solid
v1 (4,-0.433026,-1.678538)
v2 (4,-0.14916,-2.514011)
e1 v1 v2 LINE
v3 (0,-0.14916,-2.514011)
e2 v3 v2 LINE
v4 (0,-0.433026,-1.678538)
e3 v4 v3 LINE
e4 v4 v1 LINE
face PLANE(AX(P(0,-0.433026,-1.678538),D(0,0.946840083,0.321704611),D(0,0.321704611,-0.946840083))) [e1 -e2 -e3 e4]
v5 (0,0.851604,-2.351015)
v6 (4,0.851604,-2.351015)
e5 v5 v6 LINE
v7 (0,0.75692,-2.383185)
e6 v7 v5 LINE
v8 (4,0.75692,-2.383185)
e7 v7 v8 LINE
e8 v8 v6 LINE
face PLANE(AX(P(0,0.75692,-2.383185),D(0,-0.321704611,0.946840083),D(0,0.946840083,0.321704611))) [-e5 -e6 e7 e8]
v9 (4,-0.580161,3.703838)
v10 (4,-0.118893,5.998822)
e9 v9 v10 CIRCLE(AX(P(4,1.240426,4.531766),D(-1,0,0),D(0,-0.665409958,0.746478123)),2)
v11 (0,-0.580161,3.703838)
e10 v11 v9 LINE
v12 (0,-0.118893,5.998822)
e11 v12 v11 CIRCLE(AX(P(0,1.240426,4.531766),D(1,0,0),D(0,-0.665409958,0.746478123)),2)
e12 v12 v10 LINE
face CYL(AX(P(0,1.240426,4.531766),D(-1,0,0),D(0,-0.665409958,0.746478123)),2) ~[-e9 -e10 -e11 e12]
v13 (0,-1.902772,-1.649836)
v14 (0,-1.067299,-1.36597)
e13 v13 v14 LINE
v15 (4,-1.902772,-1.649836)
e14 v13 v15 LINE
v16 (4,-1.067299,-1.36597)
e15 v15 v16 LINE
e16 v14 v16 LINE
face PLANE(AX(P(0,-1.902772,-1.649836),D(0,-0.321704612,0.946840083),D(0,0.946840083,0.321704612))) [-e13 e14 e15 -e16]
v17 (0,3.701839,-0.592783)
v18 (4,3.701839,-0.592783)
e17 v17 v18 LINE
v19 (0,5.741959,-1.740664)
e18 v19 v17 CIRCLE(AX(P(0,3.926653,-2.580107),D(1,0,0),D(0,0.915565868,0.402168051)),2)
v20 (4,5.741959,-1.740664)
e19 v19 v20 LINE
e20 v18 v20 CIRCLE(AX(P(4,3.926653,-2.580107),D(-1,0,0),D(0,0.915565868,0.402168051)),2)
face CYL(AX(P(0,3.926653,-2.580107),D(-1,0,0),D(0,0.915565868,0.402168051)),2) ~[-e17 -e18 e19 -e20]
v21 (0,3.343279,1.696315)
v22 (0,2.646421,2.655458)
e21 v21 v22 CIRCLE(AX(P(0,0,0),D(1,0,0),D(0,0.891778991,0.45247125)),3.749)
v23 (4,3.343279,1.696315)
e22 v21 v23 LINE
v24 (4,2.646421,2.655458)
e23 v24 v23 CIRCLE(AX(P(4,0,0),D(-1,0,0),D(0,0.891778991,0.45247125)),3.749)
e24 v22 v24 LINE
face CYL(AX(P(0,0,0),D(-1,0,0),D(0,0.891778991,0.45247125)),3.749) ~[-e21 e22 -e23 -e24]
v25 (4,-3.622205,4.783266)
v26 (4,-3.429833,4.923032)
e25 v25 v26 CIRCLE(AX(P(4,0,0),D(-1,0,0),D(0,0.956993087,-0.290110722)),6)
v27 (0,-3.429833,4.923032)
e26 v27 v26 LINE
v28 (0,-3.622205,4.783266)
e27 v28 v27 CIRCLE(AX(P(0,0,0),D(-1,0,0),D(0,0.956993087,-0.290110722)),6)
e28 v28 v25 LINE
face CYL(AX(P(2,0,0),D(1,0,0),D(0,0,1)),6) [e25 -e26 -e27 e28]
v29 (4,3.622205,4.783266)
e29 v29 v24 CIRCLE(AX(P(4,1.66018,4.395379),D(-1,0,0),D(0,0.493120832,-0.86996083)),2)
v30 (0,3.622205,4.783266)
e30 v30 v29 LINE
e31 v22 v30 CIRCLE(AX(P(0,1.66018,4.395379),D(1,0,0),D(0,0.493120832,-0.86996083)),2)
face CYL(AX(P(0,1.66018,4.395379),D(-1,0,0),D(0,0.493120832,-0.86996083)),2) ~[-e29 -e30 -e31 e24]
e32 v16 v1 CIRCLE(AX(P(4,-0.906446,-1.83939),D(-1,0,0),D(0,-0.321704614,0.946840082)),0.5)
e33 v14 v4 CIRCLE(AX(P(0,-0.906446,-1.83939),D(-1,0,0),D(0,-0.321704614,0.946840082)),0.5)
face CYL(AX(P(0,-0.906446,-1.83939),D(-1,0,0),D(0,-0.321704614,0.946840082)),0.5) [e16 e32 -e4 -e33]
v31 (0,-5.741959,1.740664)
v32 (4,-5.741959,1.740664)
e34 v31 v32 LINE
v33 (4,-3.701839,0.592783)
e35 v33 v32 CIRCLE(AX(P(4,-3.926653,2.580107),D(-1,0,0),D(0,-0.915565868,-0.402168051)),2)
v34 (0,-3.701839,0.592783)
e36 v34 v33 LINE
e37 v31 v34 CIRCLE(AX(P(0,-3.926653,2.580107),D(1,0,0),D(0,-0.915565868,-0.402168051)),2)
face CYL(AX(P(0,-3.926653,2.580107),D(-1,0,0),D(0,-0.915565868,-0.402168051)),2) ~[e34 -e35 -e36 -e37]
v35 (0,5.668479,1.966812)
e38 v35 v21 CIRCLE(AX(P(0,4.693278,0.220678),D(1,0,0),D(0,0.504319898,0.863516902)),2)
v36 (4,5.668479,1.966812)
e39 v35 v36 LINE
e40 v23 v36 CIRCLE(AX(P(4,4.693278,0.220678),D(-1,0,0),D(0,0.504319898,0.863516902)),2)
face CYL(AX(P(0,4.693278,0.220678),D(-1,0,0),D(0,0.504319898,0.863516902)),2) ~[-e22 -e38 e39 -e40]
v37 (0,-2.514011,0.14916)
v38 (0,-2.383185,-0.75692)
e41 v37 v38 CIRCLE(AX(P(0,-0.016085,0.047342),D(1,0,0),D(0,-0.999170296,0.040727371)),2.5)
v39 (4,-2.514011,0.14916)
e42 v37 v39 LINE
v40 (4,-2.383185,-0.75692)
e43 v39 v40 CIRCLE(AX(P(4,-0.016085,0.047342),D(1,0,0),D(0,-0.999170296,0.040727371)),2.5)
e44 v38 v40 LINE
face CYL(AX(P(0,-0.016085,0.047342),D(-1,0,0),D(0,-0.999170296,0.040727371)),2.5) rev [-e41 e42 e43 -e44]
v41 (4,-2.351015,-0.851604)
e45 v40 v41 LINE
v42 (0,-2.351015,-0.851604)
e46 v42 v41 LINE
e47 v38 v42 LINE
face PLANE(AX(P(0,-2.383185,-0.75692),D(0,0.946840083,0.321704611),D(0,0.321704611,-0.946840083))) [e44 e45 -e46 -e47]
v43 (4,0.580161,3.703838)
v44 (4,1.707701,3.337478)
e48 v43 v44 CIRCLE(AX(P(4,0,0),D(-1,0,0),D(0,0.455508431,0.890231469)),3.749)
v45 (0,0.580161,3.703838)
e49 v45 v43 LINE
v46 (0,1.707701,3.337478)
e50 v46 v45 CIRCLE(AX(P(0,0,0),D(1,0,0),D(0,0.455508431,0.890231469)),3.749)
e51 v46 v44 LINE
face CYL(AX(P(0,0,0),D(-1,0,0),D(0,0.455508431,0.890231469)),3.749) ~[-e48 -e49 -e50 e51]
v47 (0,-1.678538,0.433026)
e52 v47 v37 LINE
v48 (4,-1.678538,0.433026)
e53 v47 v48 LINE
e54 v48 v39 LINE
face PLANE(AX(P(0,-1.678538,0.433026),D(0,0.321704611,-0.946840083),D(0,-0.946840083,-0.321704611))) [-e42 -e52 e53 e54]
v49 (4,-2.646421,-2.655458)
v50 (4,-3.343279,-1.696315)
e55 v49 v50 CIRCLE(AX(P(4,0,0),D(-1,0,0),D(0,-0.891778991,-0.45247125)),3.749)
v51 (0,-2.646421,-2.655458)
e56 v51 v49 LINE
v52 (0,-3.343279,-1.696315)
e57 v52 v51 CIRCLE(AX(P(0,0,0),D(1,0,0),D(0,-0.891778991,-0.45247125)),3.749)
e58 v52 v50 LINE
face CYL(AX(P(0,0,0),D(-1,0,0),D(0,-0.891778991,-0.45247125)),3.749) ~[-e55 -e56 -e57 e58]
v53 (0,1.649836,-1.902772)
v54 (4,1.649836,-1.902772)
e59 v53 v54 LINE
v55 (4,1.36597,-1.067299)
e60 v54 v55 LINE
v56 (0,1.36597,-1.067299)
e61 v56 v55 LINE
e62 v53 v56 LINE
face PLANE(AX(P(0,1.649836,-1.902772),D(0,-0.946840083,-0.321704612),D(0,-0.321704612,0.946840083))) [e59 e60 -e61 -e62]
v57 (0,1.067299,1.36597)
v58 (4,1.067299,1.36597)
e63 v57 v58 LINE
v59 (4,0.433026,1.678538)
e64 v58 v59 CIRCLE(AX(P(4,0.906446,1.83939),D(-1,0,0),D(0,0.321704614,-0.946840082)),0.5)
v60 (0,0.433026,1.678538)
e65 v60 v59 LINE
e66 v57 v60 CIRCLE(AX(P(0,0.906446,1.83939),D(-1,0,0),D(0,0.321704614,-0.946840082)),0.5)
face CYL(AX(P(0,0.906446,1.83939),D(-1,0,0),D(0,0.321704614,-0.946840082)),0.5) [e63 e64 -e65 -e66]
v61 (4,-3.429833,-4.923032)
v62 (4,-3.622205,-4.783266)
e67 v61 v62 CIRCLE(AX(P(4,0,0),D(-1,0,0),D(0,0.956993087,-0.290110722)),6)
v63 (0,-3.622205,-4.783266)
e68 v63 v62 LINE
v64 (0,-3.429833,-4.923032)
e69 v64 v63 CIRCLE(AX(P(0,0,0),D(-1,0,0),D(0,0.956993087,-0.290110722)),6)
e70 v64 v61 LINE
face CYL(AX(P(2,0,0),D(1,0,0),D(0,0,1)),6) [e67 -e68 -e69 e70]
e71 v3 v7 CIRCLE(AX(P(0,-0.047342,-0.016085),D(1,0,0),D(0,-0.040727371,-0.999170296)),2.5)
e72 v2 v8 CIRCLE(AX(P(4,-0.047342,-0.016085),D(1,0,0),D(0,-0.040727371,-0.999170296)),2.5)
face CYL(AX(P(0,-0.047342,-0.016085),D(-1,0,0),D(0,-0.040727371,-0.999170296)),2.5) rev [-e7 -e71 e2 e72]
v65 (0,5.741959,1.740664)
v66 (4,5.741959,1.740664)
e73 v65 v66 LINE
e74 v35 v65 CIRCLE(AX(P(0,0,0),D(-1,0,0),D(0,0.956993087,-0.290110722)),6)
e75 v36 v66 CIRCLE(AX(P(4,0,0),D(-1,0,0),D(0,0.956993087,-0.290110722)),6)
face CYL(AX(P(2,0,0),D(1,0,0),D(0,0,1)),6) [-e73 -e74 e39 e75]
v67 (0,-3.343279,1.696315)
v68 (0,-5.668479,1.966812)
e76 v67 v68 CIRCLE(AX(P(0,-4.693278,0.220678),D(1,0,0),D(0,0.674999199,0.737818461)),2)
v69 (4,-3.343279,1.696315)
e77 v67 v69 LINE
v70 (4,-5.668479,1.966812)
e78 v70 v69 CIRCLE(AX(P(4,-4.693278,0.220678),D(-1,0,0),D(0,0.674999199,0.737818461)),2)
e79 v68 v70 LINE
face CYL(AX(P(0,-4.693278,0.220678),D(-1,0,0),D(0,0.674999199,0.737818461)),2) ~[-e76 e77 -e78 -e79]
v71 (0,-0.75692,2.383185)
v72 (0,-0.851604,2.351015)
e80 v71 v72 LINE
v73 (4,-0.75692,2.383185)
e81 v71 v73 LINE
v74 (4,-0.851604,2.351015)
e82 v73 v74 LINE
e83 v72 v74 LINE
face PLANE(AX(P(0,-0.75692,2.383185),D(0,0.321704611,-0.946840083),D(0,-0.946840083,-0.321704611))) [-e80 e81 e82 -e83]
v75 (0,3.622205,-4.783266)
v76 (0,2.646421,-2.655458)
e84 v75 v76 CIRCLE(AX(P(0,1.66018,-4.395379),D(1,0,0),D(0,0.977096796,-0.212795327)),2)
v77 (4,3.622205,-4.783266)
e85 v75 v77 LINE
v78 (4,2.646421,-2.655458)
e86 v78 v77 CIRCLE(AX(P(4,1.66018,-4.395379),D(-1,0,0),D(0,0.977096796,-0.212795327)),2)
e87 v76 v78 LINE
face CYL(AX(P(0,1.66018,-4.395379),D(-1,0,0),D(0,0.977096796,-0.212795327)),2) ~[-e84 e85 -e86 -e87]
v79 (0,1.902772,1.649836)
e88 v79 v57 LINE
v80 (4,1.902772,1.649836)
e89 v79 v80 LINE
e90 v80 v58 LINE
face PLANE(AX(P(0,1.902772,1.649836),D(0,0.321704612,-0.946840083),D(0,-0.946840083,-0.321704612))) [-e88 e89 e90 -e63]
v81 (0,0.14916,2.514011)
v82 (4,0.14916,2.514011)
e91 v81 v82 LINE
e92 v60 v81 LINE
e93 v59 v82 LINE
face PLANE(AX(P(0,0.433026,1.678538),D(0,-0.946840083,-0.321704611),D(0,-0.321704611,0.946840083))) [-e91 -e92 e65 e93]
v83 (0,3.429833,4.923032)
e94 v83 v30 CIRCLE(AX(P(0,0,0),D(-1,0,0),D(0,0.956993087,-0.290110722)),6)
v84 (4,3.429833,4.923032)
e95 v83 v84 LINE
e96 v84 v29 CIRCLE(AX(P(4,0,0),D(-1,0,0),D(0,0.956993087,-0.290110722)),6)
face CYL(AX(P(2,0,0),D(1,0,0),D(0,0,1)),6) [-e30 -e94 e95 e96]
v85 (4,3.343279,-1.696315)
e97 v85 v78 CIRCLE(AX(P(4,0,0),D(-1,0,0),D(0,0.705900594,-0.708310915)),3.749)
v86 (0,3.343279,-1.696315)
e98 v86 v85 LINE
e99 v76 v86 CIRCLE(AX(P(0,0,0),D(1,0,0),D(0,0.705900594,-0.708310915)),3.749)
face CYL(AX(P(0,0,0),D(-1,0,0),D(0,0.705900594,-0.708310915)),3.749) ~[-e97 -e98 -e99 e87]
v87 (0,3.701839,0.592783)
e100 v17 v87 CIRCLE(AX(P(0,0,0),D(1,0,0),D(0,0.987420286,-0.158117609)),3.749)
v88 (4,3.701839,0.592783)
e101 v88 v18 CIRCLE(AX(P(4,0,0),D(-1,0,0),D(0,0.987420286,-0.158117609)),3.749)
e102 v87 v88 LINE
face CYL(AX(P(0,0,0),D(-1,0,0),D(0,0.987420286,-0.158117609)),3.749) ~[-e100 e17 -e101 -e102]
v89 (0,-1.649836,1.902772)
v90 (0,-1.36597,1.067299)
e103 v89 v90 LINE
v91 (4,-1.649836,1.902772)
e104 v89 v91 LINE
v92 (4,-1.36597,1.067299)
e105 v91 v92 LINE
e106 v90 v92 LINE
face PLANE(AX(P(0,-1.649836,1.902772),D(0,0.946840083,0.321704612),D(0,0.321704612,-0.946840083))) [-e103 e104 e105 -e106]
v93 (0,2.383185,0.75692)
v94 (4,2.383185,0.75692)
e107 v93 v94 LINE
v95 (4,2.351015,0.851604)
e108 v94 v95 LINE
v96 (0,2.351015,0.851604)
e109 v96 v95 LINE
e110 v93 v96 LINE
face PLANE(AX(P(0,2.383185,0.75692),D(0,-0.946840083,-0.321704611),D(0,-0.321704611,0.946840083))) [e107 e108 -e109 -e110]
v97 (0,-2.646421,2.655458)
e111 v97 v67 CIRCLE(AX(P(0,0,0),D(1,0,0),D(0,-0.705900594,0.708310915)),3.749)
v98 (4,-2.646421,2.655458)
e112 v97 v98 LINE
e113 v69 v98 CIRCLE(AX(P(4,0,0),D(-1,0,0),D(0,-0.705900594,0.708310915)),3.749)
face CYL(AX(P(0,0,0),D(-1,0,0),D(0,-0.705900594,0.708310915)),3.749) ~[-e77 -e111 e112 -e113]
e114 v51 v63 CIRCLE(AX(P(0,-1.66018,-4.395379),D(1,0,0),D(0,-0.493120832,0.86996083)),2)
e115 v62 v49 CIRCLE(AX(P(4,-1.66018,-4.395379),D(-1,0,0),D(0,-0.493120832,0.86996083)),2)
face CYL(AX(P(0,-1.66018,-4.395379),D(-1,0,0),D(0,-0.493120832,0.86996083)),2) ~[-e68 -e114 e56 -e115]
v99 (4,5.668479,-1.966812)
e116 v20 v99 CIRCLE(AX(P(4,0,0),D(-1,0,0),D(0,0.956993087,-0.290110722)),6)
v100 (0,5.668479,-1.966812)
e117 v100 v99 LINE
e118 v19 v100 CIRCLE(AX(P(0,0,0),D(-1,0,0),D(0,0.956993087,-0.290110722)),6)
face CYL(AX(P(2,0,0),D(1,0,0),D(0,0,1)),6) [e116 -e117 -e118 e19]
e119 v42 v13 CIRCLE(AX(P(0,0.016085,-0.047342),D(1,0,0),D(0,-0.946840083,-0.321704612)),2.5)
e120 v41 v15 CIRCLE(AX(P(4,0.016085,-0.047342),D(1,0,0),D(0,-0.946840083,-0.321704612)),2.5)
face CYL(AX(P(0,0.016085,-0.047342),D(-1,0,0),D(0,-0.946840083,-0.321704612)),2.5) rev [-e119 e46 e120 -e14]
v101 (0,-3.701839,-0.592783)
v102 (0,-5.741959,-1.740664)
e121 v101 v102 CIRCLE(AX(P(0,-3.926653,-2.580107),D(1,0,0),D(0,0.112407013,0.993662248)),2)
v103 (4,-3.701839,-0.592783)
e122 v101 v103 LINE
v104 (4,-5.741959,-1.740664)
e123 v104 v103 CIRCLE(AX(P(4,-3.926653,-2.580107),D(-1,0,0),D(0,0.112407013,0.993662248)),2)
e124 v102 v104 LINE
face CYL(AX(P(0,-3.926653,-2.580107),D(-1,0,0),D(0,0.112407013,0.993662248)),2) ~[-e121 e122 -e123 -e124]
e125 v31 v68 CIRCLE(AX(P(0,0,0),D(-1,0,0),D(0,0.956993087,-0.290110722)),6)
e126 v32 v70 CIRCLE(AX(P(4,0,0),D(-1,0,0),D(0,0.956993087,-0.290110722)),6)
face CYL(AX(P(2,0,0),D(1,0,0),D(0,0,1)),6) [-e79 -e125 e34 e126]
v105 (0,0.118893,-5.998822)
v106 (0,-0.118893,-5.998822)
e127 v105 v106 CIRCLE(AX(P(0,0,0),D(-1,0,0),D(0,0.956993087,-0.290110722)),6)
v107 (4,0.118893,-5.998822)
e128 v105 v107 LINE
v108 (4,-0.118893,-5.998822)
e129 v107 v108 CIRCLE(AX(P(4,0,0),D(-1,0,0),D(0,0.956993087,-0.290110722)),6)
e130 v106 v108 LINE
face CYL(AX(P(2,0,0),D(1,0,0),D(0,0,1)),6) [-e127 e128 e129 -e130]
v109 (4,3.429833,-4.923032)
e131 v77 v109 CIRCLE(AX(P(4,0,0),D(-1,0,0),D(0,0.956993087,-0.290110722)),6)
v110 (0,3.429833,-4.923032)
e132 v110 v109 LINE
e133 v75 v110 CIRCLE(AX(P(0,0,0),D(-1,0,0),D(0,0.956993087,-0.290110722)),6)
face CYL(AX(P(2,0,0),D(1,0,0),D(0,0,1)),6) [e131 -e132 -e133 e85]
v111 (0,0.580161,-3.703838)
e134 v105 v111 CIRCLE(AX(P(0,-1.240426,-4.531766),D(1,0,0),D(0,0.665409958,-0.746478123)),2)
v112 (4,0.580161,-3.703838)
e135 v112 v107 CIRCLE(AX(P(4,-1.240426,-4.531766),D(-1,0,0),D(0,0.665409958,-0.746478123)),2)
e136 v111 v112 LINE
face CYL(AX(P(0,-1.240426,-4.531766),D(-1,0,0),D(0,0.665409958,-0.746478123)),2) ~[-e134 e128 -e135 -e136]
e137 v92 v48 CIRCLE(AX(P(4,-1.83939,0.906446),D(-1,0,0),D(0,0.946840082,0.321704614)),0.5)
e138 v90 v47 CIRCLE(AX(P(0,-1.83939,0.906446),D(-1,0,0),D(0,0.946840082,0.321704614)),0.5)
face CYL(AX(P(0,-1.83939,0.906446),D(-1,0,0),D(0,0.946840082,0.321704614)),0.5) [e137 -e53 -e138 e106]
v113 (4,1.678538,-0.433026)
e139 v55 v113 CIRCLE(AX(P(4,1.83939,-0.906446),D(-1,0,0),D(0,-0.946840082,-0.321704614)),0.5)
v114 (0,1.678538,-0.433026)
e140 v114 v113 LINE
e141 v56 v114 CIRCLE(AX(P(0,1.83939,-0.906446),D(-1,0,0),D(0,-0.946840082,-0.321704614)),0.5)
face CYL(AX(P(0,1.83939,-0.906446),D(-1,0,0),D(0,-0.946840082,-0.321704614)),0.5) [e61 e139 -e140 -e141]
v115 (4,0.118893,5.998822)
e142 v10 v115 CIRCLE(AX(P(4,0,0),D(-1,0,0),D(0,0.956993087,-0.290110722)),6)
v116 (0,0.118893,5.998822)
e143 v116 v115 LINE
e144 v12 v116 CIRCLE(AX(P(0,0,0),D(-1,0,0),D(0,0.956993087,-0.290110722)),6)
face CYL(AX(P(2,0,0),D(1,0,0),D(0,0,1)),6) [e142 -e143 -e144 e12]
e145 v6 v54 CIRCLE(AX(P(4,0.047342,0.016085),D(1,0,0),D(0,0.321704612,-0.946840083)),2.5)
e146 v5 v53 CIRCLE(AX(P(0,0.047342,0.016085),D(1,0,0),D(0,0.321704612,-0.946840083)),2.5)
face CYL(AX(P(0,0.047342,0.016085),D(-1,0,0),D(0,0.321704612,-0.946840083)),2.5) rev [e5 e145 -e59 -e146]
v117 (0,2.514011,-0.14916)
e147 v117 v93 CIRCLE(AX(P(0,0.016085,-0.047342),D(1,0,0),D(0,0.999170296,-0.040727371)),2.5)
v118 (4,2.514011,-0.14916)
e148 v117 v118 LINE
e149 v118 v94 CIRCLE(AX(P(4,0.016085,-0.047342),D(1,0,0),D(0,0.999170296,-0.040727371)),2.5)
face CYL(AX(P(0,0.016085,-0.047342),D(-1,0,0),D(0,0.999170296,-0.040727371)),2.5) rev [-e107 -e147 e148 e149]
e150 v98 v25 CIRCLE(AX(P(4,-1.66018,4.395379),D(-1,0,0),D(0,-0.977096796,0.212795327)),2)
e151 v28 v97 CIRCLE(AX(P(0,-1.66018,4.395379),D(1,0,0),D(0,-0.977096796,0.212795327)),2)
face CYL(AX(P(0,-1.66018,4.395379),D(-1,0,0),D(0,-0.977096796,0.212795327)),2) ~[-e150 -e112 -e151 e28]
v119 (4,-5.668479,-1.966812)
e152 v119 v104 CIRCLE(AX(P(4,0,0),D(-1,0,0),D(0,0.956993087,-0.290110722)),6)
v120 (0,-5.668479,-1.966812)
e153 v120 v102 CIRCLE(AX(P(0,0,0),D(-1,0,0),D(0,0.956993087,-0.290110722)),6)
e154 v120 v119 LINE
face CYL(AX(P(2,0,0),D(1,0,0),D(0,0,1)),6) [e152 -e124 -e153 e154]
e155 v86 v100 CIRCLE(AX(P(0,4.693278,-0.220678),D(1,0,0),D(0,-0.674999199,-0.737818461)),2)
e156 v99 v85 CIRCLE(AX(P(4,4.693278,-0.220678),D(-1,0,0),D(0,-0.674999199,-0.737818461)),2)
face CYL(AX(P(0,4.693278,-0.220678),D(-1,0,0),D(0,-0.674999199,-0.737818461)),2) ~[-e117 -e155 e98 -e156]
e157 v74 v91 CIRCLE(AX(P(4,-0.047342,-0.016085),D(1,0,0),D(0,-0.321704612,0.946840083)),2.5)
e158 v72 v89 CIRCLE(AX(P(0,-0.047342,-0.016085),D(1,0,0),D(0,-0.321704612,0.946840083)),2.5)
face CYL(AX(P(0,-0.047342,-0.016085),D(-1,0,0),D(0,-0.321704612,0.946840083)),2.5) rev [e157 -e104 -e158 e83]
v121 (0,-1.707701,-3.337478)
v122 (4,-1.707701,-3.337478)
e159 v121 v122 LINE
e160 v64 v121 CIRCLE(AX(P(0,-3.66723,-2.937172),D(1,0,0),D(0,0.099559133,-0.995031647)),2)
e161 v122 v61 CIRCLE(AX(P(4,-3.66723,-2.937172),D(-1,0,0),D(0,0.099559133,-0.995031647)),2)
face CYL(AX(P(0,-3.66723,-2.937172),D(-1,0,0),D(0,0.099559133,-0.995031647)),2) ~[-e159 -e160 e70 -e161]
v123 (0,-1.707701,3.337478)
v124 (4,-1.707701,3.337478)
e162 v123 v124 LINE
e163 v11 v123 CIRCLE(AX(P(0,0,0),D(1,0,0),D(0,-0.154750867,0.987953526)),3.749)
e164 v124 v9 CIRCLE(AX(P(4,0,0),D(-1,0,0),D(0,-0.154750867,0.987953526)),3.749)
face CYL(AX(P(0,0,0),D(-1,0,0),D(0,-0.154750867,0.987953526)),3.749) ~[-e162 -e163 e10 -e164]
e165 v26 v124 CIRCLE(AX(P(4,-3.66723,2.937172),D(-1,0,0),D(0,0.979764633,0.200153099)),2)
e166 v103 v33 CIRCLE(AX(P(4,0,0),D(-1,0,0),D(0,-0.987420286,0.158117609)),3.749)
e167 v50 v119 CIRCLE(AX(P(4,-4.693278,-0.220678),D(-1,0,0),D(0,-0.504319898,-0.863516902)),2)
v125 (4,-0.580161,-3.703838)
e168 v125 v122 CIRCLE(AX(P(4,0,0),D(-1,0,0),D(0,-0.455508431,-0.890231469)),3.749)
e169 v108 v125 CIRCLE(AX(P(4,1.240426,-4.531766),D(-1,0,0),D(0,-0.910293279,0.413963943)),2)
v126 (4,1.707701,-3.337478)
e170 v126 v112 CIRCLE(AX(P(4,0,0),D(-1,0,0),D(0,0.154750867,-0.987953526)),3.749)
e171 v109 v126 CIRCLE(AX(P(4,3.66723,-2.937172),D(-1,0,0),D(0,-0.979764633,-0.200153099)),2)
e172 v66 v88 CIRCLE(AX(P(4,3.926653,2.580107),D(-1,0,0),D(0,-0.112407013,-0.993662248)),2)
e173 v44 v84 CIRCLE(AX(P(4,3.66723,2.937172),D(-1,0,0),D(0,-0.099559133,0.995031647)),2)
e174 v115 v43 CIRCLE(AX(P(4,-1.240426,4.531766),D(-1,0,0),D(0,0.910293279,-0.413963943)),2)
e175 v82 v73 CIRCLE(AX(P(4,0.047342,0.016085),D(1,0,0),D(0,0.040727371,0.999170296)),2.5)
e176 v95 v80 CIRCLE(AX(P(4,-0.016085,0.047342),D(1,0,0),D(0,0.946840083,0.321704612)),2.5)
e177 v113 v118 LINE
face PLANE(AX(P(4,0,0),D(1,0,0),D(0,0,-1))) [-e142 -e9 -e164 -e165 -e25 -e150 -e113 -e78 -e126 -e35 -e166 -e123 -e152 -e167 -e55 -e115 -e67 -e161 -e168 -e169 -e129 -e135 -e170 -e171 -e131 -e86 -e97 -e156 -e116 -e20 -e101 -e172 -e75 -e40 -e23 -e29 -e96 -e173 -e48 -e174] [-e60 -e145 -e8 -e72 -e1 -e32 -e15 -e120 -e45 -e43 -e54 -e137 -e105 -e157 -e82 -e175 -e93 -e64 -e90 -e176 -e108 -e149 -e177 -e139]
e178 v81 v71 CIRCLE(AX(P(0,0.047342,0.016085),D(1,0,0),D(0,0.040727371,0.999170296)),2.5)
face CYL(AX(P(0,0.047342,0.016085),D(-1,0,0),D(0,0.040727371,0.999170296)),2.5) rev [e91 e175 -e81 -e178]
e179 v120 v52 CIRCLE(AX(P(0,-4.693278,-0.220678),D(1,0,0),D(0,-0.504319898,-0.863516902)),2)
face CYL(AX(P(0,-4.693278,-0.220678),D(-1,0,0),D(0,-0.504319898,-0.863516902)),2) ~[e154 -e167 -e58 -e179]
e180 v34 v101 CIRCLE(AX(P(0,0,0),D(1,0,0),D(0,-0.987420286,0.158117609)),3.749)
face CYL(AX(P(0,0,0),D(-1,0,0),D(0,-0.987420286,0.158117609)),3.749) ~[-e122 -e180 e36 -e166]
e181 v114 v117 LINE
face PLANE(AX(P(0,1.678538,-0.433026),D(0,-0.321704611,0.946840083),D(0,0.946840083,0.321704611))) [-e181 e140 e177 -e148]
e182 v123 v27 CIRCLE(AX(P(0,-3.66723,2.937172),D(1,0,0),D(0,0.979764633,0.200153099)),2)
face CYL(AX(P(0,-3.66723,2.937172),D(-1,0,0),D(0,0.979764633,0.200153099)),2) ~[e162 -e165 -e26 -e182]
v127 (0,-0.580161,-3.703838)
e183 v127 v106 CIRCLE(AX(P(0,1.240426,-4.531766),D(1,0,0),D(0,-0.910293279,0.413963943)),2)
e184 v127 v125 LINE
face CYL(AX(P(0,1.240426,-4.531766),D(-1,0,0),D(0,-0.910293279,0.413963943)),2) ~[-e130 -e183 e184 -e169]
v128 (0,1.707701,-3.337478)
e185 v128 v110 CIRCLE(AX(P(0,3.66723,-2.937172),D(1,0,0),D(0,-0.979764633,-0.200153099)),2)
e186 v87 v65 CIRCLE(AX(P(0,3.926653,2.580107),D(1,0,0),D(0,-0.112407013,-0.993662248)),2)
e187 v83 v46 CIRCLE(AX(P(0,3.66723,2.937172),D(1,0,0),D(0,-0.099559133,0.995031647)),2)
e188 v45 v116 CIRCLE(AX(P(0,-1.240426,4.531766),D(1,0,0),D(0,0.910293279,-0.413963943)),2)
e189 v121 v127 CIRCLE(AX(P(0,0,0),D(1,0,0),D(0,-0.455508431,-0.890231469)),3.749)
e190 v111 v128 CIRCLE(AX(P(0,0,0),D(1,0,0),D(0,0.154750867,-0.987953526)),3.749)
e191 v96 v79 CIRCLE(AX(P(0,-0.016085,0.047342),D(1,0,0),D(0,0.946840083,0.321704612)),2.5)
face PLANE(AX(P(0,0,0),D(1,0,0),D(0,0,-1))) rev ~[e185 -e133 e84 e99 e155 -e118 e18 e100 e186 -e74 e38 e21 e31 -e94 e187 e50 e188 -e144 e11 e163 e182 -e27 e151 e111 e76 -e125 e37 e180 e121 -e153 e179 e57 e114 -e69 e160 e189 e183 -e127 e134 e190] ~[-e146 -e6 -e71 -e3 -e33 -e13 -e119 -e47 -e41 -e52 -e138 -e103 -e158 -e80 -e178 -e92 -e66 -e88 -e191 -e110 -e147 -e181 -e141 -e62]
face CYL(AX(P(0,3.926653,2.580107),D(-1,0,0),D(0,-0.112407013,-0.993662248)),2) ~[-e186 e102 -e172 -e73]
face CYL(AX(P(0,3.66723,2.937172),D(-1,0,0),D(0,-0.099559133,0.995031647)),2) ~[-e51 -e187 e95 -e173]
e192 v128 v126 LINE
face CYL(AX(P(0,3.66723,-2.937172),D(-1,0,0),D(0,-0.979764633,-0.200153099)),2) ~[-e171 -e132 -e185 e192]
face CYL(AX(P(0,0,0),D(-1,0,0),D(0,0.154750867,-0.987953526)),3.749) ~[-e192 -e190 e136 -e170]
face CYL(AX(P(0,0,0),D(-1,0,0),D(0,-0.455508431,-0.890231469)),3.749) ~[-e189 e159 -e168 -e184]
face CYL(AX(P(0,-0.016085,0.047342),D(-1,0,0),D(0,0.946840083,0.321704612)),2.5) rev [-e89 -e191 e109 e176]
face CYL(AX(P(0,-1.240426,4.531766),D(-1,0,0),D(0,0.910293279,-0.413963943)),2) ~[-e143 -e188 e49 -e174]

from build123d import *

# Parameters (mm, degrees)
BASPROSKE_W         = 4
BASPROSKE_H         = 6
TOOTHCUT_DEPTH      = 10.38083152
TEETHCUTS_COUNT     = 10
TEETHCUTS_ANGLE     = 324
BORSKE_R            = 2.5
BORE_DEPTH          = 50.0000508
SKETCH2_R           = 3
CUT_EXTRUDE1_DEPTH  = 10.217922092
BOSS_EXTRUDE1_START = -4
SKETCH1_R           = 3
BOSS_EXTRUDE1_DEPTH = 4


with BuildPart() as part:
    # BasProSke → Base-Revolve (revolve)
    with BuildSketch(Plane(origin=(0, 0, 0), x_dir=(1, 0, 0), z_dir=(0, 1, 0)), mode=Mode.PRIVATE) as base_revolve_sk:
        with Locations((2, 3)):
            Rectangle(BASPROSKE_W, BASPROSKE_H)
    revolve(base_revolve_sk.sketch.rotate(Axis((-10, 0, 0), (1, 0, 0)), 180), axis=Axis((-10, 0, 0), (1, 0, 0)))

    # TooCutSke → ToothCut (cut, through all)
    with BuildSketch(Plane(origin=(0, 0, 0), x_dir=(0, 0, -1), z_dir=(1, 0, 0))):
        with BuildLine():
            ThreePointArc((0.59278292, 3.701838653), (0, 3.749), (-0.59278292, 3.701838653))
            ThreePointArc((-0.59278292, 3.701838653), (-0.846593509, 4.924114224), (-1.775771316, 5.757784417))
            ThreePointArc((-1.775771316, 5.757784417), (0, 6.0254), (1.775771316, 5.757784417))
            ThreePointArc((1.775771316, 5.757784417), (0.846593509, 4.924114224), (0.59278292, 3.701838653))
        make_face()
    toothcut = extrude(amount=TOOTHCUT_DEPTH, mode=Mode.SUBTRACT)

    # TeethCuts: ToothCut ×10 about axis
    teethcuts_axis = Axis((-10, 0, 0), (1, 0, 0))
    for i in range(1, TEETHCUTS_COUNT):
        add(toothcut.rotate(teethcuts_axis, i * TEETHCUTS_ANGLE / (TEETHCUTS_COUNT - 1)), mode=Mode.SUBTRACT)

    # BorSke → Bore (cut, symmetric)
    with BuildSketch(Plane(origin=(0, 0, 0), x_dir=(0, 0, -1), z_dir=(1, 0, 0))):
        with Locations(Location((0, 0, 0), (0, 0, 180))):
            Circle(BORSKE_R)
    extrude(amount=BORE_DEPTH, both=True, mode=Mode.SUBTRACT)

    # Sketch2 → Cut-Extrude1 (cut, through all)
    with BuildSketch(Plane.ZY):
        Circle(SKETCH2_R)
    extrude(amount=-CUT_EXTRUDE1_DEPTH, mode=Mode.SUBTRACT)

    # Sketch1 → Boss-Extrude1 (add)
    with BuildSketch(Plane(origin=(4, 0, 0), x_dir=(0, 0, -1), z_dir=(1, 0, 0)).offset(BOSS_EXTRUDE1_START)):
        Circle(SKETCH1_R)
        with BuildLine():
            Line((-0.433026392, -1.678537501), (-0.149160433, -2.514010972))
            ThreePointArc((-0.149160433, -2.514010972), (0.309918975, -2.490426475), (0.756919525, -2.383185438))
            Line((0.756919525, -2.383185438), (0.851603533, -2.351014977))
            ThreePointArc((0.851603533, -2.351014977), (1.271412306, -2.163743179), (1.649835725, -1.902772209))
            Line((1.649835725, -1.902772209), (1.365969766, -1.067298739))
            ThreePointArc((1.365969766, -1.067298739), (1.390891529, -0.685427668), (1.678537501, -0.433026392))
            Line((1.678537501, -0.433026392), (2.514010972, -0.149160433))
            ThreePointArc((2.514010972, -0.149160433), (2.490426475, 0.309918975), (2.383185438, 0.756919525))
            Line((2.383185438, 0.756919525), (2.351014977, 0.851603533))
            ThreePointArc((2.351014977, 0.851603533), (2.163743179, 1.271412306), (1.902772209, 1.649835725))
            Line((1.902772209, 1.649835725), (1.067298739, 1.365969766))
            ThreePointArc((1.067298739, 1.365969766), (0.685427668, 1.390891529), (0.433026392, 1.678537501))
            Line((0.433026392, 1.678537501), (0.149160433, 2.514010972))
            ThreePointArc((0.149160433, 2.514010972), (-0.309918975, 2.490426475), (-0.756919525, 2.383185438))
            Line((-0.756919525, 2.383185438), (-0.851603533, 2.351014977))
            ThreePointArc((-0.851603533, 2.351014977), (-1.271412306, 2.163743179), (-1.649835725, 1.902772209))
            Line((-1.649835725, 1.902772209), (-1.365969766, 1.067298739))
            ThreePointArc((-1.365969766, 1.067298739), (-1.390891529, 0.685427668), (-1.678537501, 0.433026392))
            Line((-1.678537501, 0.433026392), (-2.514010972, 0.149160433))
            ThreePointArc((-2.514010972, 0.149160433), (-2.490426475, -0.309918975), (-2.383185438, -0.756919525))
            Line((-2.383185438, -0.756919525), (-2.351014977, -0.851603533))
            ThreePointArc((-2.351014977, -0.851603533), (-2.163743179, -1.271412306), (-1.902772209, -1.649835725))
            Line((-1.902772209, -1.649835725), (-1.067298739, -1.365969766))
            ThreePointArc((-1.067298739, -1.365969766), (-0.685427668, -1.390891529), (-0.433026392, -1.678537501))
        make_face(mode=Mode.SUBTRACT)
    extrude(amount=BOSS_EXTRUDE1_DEPTH)


solid = part.part
